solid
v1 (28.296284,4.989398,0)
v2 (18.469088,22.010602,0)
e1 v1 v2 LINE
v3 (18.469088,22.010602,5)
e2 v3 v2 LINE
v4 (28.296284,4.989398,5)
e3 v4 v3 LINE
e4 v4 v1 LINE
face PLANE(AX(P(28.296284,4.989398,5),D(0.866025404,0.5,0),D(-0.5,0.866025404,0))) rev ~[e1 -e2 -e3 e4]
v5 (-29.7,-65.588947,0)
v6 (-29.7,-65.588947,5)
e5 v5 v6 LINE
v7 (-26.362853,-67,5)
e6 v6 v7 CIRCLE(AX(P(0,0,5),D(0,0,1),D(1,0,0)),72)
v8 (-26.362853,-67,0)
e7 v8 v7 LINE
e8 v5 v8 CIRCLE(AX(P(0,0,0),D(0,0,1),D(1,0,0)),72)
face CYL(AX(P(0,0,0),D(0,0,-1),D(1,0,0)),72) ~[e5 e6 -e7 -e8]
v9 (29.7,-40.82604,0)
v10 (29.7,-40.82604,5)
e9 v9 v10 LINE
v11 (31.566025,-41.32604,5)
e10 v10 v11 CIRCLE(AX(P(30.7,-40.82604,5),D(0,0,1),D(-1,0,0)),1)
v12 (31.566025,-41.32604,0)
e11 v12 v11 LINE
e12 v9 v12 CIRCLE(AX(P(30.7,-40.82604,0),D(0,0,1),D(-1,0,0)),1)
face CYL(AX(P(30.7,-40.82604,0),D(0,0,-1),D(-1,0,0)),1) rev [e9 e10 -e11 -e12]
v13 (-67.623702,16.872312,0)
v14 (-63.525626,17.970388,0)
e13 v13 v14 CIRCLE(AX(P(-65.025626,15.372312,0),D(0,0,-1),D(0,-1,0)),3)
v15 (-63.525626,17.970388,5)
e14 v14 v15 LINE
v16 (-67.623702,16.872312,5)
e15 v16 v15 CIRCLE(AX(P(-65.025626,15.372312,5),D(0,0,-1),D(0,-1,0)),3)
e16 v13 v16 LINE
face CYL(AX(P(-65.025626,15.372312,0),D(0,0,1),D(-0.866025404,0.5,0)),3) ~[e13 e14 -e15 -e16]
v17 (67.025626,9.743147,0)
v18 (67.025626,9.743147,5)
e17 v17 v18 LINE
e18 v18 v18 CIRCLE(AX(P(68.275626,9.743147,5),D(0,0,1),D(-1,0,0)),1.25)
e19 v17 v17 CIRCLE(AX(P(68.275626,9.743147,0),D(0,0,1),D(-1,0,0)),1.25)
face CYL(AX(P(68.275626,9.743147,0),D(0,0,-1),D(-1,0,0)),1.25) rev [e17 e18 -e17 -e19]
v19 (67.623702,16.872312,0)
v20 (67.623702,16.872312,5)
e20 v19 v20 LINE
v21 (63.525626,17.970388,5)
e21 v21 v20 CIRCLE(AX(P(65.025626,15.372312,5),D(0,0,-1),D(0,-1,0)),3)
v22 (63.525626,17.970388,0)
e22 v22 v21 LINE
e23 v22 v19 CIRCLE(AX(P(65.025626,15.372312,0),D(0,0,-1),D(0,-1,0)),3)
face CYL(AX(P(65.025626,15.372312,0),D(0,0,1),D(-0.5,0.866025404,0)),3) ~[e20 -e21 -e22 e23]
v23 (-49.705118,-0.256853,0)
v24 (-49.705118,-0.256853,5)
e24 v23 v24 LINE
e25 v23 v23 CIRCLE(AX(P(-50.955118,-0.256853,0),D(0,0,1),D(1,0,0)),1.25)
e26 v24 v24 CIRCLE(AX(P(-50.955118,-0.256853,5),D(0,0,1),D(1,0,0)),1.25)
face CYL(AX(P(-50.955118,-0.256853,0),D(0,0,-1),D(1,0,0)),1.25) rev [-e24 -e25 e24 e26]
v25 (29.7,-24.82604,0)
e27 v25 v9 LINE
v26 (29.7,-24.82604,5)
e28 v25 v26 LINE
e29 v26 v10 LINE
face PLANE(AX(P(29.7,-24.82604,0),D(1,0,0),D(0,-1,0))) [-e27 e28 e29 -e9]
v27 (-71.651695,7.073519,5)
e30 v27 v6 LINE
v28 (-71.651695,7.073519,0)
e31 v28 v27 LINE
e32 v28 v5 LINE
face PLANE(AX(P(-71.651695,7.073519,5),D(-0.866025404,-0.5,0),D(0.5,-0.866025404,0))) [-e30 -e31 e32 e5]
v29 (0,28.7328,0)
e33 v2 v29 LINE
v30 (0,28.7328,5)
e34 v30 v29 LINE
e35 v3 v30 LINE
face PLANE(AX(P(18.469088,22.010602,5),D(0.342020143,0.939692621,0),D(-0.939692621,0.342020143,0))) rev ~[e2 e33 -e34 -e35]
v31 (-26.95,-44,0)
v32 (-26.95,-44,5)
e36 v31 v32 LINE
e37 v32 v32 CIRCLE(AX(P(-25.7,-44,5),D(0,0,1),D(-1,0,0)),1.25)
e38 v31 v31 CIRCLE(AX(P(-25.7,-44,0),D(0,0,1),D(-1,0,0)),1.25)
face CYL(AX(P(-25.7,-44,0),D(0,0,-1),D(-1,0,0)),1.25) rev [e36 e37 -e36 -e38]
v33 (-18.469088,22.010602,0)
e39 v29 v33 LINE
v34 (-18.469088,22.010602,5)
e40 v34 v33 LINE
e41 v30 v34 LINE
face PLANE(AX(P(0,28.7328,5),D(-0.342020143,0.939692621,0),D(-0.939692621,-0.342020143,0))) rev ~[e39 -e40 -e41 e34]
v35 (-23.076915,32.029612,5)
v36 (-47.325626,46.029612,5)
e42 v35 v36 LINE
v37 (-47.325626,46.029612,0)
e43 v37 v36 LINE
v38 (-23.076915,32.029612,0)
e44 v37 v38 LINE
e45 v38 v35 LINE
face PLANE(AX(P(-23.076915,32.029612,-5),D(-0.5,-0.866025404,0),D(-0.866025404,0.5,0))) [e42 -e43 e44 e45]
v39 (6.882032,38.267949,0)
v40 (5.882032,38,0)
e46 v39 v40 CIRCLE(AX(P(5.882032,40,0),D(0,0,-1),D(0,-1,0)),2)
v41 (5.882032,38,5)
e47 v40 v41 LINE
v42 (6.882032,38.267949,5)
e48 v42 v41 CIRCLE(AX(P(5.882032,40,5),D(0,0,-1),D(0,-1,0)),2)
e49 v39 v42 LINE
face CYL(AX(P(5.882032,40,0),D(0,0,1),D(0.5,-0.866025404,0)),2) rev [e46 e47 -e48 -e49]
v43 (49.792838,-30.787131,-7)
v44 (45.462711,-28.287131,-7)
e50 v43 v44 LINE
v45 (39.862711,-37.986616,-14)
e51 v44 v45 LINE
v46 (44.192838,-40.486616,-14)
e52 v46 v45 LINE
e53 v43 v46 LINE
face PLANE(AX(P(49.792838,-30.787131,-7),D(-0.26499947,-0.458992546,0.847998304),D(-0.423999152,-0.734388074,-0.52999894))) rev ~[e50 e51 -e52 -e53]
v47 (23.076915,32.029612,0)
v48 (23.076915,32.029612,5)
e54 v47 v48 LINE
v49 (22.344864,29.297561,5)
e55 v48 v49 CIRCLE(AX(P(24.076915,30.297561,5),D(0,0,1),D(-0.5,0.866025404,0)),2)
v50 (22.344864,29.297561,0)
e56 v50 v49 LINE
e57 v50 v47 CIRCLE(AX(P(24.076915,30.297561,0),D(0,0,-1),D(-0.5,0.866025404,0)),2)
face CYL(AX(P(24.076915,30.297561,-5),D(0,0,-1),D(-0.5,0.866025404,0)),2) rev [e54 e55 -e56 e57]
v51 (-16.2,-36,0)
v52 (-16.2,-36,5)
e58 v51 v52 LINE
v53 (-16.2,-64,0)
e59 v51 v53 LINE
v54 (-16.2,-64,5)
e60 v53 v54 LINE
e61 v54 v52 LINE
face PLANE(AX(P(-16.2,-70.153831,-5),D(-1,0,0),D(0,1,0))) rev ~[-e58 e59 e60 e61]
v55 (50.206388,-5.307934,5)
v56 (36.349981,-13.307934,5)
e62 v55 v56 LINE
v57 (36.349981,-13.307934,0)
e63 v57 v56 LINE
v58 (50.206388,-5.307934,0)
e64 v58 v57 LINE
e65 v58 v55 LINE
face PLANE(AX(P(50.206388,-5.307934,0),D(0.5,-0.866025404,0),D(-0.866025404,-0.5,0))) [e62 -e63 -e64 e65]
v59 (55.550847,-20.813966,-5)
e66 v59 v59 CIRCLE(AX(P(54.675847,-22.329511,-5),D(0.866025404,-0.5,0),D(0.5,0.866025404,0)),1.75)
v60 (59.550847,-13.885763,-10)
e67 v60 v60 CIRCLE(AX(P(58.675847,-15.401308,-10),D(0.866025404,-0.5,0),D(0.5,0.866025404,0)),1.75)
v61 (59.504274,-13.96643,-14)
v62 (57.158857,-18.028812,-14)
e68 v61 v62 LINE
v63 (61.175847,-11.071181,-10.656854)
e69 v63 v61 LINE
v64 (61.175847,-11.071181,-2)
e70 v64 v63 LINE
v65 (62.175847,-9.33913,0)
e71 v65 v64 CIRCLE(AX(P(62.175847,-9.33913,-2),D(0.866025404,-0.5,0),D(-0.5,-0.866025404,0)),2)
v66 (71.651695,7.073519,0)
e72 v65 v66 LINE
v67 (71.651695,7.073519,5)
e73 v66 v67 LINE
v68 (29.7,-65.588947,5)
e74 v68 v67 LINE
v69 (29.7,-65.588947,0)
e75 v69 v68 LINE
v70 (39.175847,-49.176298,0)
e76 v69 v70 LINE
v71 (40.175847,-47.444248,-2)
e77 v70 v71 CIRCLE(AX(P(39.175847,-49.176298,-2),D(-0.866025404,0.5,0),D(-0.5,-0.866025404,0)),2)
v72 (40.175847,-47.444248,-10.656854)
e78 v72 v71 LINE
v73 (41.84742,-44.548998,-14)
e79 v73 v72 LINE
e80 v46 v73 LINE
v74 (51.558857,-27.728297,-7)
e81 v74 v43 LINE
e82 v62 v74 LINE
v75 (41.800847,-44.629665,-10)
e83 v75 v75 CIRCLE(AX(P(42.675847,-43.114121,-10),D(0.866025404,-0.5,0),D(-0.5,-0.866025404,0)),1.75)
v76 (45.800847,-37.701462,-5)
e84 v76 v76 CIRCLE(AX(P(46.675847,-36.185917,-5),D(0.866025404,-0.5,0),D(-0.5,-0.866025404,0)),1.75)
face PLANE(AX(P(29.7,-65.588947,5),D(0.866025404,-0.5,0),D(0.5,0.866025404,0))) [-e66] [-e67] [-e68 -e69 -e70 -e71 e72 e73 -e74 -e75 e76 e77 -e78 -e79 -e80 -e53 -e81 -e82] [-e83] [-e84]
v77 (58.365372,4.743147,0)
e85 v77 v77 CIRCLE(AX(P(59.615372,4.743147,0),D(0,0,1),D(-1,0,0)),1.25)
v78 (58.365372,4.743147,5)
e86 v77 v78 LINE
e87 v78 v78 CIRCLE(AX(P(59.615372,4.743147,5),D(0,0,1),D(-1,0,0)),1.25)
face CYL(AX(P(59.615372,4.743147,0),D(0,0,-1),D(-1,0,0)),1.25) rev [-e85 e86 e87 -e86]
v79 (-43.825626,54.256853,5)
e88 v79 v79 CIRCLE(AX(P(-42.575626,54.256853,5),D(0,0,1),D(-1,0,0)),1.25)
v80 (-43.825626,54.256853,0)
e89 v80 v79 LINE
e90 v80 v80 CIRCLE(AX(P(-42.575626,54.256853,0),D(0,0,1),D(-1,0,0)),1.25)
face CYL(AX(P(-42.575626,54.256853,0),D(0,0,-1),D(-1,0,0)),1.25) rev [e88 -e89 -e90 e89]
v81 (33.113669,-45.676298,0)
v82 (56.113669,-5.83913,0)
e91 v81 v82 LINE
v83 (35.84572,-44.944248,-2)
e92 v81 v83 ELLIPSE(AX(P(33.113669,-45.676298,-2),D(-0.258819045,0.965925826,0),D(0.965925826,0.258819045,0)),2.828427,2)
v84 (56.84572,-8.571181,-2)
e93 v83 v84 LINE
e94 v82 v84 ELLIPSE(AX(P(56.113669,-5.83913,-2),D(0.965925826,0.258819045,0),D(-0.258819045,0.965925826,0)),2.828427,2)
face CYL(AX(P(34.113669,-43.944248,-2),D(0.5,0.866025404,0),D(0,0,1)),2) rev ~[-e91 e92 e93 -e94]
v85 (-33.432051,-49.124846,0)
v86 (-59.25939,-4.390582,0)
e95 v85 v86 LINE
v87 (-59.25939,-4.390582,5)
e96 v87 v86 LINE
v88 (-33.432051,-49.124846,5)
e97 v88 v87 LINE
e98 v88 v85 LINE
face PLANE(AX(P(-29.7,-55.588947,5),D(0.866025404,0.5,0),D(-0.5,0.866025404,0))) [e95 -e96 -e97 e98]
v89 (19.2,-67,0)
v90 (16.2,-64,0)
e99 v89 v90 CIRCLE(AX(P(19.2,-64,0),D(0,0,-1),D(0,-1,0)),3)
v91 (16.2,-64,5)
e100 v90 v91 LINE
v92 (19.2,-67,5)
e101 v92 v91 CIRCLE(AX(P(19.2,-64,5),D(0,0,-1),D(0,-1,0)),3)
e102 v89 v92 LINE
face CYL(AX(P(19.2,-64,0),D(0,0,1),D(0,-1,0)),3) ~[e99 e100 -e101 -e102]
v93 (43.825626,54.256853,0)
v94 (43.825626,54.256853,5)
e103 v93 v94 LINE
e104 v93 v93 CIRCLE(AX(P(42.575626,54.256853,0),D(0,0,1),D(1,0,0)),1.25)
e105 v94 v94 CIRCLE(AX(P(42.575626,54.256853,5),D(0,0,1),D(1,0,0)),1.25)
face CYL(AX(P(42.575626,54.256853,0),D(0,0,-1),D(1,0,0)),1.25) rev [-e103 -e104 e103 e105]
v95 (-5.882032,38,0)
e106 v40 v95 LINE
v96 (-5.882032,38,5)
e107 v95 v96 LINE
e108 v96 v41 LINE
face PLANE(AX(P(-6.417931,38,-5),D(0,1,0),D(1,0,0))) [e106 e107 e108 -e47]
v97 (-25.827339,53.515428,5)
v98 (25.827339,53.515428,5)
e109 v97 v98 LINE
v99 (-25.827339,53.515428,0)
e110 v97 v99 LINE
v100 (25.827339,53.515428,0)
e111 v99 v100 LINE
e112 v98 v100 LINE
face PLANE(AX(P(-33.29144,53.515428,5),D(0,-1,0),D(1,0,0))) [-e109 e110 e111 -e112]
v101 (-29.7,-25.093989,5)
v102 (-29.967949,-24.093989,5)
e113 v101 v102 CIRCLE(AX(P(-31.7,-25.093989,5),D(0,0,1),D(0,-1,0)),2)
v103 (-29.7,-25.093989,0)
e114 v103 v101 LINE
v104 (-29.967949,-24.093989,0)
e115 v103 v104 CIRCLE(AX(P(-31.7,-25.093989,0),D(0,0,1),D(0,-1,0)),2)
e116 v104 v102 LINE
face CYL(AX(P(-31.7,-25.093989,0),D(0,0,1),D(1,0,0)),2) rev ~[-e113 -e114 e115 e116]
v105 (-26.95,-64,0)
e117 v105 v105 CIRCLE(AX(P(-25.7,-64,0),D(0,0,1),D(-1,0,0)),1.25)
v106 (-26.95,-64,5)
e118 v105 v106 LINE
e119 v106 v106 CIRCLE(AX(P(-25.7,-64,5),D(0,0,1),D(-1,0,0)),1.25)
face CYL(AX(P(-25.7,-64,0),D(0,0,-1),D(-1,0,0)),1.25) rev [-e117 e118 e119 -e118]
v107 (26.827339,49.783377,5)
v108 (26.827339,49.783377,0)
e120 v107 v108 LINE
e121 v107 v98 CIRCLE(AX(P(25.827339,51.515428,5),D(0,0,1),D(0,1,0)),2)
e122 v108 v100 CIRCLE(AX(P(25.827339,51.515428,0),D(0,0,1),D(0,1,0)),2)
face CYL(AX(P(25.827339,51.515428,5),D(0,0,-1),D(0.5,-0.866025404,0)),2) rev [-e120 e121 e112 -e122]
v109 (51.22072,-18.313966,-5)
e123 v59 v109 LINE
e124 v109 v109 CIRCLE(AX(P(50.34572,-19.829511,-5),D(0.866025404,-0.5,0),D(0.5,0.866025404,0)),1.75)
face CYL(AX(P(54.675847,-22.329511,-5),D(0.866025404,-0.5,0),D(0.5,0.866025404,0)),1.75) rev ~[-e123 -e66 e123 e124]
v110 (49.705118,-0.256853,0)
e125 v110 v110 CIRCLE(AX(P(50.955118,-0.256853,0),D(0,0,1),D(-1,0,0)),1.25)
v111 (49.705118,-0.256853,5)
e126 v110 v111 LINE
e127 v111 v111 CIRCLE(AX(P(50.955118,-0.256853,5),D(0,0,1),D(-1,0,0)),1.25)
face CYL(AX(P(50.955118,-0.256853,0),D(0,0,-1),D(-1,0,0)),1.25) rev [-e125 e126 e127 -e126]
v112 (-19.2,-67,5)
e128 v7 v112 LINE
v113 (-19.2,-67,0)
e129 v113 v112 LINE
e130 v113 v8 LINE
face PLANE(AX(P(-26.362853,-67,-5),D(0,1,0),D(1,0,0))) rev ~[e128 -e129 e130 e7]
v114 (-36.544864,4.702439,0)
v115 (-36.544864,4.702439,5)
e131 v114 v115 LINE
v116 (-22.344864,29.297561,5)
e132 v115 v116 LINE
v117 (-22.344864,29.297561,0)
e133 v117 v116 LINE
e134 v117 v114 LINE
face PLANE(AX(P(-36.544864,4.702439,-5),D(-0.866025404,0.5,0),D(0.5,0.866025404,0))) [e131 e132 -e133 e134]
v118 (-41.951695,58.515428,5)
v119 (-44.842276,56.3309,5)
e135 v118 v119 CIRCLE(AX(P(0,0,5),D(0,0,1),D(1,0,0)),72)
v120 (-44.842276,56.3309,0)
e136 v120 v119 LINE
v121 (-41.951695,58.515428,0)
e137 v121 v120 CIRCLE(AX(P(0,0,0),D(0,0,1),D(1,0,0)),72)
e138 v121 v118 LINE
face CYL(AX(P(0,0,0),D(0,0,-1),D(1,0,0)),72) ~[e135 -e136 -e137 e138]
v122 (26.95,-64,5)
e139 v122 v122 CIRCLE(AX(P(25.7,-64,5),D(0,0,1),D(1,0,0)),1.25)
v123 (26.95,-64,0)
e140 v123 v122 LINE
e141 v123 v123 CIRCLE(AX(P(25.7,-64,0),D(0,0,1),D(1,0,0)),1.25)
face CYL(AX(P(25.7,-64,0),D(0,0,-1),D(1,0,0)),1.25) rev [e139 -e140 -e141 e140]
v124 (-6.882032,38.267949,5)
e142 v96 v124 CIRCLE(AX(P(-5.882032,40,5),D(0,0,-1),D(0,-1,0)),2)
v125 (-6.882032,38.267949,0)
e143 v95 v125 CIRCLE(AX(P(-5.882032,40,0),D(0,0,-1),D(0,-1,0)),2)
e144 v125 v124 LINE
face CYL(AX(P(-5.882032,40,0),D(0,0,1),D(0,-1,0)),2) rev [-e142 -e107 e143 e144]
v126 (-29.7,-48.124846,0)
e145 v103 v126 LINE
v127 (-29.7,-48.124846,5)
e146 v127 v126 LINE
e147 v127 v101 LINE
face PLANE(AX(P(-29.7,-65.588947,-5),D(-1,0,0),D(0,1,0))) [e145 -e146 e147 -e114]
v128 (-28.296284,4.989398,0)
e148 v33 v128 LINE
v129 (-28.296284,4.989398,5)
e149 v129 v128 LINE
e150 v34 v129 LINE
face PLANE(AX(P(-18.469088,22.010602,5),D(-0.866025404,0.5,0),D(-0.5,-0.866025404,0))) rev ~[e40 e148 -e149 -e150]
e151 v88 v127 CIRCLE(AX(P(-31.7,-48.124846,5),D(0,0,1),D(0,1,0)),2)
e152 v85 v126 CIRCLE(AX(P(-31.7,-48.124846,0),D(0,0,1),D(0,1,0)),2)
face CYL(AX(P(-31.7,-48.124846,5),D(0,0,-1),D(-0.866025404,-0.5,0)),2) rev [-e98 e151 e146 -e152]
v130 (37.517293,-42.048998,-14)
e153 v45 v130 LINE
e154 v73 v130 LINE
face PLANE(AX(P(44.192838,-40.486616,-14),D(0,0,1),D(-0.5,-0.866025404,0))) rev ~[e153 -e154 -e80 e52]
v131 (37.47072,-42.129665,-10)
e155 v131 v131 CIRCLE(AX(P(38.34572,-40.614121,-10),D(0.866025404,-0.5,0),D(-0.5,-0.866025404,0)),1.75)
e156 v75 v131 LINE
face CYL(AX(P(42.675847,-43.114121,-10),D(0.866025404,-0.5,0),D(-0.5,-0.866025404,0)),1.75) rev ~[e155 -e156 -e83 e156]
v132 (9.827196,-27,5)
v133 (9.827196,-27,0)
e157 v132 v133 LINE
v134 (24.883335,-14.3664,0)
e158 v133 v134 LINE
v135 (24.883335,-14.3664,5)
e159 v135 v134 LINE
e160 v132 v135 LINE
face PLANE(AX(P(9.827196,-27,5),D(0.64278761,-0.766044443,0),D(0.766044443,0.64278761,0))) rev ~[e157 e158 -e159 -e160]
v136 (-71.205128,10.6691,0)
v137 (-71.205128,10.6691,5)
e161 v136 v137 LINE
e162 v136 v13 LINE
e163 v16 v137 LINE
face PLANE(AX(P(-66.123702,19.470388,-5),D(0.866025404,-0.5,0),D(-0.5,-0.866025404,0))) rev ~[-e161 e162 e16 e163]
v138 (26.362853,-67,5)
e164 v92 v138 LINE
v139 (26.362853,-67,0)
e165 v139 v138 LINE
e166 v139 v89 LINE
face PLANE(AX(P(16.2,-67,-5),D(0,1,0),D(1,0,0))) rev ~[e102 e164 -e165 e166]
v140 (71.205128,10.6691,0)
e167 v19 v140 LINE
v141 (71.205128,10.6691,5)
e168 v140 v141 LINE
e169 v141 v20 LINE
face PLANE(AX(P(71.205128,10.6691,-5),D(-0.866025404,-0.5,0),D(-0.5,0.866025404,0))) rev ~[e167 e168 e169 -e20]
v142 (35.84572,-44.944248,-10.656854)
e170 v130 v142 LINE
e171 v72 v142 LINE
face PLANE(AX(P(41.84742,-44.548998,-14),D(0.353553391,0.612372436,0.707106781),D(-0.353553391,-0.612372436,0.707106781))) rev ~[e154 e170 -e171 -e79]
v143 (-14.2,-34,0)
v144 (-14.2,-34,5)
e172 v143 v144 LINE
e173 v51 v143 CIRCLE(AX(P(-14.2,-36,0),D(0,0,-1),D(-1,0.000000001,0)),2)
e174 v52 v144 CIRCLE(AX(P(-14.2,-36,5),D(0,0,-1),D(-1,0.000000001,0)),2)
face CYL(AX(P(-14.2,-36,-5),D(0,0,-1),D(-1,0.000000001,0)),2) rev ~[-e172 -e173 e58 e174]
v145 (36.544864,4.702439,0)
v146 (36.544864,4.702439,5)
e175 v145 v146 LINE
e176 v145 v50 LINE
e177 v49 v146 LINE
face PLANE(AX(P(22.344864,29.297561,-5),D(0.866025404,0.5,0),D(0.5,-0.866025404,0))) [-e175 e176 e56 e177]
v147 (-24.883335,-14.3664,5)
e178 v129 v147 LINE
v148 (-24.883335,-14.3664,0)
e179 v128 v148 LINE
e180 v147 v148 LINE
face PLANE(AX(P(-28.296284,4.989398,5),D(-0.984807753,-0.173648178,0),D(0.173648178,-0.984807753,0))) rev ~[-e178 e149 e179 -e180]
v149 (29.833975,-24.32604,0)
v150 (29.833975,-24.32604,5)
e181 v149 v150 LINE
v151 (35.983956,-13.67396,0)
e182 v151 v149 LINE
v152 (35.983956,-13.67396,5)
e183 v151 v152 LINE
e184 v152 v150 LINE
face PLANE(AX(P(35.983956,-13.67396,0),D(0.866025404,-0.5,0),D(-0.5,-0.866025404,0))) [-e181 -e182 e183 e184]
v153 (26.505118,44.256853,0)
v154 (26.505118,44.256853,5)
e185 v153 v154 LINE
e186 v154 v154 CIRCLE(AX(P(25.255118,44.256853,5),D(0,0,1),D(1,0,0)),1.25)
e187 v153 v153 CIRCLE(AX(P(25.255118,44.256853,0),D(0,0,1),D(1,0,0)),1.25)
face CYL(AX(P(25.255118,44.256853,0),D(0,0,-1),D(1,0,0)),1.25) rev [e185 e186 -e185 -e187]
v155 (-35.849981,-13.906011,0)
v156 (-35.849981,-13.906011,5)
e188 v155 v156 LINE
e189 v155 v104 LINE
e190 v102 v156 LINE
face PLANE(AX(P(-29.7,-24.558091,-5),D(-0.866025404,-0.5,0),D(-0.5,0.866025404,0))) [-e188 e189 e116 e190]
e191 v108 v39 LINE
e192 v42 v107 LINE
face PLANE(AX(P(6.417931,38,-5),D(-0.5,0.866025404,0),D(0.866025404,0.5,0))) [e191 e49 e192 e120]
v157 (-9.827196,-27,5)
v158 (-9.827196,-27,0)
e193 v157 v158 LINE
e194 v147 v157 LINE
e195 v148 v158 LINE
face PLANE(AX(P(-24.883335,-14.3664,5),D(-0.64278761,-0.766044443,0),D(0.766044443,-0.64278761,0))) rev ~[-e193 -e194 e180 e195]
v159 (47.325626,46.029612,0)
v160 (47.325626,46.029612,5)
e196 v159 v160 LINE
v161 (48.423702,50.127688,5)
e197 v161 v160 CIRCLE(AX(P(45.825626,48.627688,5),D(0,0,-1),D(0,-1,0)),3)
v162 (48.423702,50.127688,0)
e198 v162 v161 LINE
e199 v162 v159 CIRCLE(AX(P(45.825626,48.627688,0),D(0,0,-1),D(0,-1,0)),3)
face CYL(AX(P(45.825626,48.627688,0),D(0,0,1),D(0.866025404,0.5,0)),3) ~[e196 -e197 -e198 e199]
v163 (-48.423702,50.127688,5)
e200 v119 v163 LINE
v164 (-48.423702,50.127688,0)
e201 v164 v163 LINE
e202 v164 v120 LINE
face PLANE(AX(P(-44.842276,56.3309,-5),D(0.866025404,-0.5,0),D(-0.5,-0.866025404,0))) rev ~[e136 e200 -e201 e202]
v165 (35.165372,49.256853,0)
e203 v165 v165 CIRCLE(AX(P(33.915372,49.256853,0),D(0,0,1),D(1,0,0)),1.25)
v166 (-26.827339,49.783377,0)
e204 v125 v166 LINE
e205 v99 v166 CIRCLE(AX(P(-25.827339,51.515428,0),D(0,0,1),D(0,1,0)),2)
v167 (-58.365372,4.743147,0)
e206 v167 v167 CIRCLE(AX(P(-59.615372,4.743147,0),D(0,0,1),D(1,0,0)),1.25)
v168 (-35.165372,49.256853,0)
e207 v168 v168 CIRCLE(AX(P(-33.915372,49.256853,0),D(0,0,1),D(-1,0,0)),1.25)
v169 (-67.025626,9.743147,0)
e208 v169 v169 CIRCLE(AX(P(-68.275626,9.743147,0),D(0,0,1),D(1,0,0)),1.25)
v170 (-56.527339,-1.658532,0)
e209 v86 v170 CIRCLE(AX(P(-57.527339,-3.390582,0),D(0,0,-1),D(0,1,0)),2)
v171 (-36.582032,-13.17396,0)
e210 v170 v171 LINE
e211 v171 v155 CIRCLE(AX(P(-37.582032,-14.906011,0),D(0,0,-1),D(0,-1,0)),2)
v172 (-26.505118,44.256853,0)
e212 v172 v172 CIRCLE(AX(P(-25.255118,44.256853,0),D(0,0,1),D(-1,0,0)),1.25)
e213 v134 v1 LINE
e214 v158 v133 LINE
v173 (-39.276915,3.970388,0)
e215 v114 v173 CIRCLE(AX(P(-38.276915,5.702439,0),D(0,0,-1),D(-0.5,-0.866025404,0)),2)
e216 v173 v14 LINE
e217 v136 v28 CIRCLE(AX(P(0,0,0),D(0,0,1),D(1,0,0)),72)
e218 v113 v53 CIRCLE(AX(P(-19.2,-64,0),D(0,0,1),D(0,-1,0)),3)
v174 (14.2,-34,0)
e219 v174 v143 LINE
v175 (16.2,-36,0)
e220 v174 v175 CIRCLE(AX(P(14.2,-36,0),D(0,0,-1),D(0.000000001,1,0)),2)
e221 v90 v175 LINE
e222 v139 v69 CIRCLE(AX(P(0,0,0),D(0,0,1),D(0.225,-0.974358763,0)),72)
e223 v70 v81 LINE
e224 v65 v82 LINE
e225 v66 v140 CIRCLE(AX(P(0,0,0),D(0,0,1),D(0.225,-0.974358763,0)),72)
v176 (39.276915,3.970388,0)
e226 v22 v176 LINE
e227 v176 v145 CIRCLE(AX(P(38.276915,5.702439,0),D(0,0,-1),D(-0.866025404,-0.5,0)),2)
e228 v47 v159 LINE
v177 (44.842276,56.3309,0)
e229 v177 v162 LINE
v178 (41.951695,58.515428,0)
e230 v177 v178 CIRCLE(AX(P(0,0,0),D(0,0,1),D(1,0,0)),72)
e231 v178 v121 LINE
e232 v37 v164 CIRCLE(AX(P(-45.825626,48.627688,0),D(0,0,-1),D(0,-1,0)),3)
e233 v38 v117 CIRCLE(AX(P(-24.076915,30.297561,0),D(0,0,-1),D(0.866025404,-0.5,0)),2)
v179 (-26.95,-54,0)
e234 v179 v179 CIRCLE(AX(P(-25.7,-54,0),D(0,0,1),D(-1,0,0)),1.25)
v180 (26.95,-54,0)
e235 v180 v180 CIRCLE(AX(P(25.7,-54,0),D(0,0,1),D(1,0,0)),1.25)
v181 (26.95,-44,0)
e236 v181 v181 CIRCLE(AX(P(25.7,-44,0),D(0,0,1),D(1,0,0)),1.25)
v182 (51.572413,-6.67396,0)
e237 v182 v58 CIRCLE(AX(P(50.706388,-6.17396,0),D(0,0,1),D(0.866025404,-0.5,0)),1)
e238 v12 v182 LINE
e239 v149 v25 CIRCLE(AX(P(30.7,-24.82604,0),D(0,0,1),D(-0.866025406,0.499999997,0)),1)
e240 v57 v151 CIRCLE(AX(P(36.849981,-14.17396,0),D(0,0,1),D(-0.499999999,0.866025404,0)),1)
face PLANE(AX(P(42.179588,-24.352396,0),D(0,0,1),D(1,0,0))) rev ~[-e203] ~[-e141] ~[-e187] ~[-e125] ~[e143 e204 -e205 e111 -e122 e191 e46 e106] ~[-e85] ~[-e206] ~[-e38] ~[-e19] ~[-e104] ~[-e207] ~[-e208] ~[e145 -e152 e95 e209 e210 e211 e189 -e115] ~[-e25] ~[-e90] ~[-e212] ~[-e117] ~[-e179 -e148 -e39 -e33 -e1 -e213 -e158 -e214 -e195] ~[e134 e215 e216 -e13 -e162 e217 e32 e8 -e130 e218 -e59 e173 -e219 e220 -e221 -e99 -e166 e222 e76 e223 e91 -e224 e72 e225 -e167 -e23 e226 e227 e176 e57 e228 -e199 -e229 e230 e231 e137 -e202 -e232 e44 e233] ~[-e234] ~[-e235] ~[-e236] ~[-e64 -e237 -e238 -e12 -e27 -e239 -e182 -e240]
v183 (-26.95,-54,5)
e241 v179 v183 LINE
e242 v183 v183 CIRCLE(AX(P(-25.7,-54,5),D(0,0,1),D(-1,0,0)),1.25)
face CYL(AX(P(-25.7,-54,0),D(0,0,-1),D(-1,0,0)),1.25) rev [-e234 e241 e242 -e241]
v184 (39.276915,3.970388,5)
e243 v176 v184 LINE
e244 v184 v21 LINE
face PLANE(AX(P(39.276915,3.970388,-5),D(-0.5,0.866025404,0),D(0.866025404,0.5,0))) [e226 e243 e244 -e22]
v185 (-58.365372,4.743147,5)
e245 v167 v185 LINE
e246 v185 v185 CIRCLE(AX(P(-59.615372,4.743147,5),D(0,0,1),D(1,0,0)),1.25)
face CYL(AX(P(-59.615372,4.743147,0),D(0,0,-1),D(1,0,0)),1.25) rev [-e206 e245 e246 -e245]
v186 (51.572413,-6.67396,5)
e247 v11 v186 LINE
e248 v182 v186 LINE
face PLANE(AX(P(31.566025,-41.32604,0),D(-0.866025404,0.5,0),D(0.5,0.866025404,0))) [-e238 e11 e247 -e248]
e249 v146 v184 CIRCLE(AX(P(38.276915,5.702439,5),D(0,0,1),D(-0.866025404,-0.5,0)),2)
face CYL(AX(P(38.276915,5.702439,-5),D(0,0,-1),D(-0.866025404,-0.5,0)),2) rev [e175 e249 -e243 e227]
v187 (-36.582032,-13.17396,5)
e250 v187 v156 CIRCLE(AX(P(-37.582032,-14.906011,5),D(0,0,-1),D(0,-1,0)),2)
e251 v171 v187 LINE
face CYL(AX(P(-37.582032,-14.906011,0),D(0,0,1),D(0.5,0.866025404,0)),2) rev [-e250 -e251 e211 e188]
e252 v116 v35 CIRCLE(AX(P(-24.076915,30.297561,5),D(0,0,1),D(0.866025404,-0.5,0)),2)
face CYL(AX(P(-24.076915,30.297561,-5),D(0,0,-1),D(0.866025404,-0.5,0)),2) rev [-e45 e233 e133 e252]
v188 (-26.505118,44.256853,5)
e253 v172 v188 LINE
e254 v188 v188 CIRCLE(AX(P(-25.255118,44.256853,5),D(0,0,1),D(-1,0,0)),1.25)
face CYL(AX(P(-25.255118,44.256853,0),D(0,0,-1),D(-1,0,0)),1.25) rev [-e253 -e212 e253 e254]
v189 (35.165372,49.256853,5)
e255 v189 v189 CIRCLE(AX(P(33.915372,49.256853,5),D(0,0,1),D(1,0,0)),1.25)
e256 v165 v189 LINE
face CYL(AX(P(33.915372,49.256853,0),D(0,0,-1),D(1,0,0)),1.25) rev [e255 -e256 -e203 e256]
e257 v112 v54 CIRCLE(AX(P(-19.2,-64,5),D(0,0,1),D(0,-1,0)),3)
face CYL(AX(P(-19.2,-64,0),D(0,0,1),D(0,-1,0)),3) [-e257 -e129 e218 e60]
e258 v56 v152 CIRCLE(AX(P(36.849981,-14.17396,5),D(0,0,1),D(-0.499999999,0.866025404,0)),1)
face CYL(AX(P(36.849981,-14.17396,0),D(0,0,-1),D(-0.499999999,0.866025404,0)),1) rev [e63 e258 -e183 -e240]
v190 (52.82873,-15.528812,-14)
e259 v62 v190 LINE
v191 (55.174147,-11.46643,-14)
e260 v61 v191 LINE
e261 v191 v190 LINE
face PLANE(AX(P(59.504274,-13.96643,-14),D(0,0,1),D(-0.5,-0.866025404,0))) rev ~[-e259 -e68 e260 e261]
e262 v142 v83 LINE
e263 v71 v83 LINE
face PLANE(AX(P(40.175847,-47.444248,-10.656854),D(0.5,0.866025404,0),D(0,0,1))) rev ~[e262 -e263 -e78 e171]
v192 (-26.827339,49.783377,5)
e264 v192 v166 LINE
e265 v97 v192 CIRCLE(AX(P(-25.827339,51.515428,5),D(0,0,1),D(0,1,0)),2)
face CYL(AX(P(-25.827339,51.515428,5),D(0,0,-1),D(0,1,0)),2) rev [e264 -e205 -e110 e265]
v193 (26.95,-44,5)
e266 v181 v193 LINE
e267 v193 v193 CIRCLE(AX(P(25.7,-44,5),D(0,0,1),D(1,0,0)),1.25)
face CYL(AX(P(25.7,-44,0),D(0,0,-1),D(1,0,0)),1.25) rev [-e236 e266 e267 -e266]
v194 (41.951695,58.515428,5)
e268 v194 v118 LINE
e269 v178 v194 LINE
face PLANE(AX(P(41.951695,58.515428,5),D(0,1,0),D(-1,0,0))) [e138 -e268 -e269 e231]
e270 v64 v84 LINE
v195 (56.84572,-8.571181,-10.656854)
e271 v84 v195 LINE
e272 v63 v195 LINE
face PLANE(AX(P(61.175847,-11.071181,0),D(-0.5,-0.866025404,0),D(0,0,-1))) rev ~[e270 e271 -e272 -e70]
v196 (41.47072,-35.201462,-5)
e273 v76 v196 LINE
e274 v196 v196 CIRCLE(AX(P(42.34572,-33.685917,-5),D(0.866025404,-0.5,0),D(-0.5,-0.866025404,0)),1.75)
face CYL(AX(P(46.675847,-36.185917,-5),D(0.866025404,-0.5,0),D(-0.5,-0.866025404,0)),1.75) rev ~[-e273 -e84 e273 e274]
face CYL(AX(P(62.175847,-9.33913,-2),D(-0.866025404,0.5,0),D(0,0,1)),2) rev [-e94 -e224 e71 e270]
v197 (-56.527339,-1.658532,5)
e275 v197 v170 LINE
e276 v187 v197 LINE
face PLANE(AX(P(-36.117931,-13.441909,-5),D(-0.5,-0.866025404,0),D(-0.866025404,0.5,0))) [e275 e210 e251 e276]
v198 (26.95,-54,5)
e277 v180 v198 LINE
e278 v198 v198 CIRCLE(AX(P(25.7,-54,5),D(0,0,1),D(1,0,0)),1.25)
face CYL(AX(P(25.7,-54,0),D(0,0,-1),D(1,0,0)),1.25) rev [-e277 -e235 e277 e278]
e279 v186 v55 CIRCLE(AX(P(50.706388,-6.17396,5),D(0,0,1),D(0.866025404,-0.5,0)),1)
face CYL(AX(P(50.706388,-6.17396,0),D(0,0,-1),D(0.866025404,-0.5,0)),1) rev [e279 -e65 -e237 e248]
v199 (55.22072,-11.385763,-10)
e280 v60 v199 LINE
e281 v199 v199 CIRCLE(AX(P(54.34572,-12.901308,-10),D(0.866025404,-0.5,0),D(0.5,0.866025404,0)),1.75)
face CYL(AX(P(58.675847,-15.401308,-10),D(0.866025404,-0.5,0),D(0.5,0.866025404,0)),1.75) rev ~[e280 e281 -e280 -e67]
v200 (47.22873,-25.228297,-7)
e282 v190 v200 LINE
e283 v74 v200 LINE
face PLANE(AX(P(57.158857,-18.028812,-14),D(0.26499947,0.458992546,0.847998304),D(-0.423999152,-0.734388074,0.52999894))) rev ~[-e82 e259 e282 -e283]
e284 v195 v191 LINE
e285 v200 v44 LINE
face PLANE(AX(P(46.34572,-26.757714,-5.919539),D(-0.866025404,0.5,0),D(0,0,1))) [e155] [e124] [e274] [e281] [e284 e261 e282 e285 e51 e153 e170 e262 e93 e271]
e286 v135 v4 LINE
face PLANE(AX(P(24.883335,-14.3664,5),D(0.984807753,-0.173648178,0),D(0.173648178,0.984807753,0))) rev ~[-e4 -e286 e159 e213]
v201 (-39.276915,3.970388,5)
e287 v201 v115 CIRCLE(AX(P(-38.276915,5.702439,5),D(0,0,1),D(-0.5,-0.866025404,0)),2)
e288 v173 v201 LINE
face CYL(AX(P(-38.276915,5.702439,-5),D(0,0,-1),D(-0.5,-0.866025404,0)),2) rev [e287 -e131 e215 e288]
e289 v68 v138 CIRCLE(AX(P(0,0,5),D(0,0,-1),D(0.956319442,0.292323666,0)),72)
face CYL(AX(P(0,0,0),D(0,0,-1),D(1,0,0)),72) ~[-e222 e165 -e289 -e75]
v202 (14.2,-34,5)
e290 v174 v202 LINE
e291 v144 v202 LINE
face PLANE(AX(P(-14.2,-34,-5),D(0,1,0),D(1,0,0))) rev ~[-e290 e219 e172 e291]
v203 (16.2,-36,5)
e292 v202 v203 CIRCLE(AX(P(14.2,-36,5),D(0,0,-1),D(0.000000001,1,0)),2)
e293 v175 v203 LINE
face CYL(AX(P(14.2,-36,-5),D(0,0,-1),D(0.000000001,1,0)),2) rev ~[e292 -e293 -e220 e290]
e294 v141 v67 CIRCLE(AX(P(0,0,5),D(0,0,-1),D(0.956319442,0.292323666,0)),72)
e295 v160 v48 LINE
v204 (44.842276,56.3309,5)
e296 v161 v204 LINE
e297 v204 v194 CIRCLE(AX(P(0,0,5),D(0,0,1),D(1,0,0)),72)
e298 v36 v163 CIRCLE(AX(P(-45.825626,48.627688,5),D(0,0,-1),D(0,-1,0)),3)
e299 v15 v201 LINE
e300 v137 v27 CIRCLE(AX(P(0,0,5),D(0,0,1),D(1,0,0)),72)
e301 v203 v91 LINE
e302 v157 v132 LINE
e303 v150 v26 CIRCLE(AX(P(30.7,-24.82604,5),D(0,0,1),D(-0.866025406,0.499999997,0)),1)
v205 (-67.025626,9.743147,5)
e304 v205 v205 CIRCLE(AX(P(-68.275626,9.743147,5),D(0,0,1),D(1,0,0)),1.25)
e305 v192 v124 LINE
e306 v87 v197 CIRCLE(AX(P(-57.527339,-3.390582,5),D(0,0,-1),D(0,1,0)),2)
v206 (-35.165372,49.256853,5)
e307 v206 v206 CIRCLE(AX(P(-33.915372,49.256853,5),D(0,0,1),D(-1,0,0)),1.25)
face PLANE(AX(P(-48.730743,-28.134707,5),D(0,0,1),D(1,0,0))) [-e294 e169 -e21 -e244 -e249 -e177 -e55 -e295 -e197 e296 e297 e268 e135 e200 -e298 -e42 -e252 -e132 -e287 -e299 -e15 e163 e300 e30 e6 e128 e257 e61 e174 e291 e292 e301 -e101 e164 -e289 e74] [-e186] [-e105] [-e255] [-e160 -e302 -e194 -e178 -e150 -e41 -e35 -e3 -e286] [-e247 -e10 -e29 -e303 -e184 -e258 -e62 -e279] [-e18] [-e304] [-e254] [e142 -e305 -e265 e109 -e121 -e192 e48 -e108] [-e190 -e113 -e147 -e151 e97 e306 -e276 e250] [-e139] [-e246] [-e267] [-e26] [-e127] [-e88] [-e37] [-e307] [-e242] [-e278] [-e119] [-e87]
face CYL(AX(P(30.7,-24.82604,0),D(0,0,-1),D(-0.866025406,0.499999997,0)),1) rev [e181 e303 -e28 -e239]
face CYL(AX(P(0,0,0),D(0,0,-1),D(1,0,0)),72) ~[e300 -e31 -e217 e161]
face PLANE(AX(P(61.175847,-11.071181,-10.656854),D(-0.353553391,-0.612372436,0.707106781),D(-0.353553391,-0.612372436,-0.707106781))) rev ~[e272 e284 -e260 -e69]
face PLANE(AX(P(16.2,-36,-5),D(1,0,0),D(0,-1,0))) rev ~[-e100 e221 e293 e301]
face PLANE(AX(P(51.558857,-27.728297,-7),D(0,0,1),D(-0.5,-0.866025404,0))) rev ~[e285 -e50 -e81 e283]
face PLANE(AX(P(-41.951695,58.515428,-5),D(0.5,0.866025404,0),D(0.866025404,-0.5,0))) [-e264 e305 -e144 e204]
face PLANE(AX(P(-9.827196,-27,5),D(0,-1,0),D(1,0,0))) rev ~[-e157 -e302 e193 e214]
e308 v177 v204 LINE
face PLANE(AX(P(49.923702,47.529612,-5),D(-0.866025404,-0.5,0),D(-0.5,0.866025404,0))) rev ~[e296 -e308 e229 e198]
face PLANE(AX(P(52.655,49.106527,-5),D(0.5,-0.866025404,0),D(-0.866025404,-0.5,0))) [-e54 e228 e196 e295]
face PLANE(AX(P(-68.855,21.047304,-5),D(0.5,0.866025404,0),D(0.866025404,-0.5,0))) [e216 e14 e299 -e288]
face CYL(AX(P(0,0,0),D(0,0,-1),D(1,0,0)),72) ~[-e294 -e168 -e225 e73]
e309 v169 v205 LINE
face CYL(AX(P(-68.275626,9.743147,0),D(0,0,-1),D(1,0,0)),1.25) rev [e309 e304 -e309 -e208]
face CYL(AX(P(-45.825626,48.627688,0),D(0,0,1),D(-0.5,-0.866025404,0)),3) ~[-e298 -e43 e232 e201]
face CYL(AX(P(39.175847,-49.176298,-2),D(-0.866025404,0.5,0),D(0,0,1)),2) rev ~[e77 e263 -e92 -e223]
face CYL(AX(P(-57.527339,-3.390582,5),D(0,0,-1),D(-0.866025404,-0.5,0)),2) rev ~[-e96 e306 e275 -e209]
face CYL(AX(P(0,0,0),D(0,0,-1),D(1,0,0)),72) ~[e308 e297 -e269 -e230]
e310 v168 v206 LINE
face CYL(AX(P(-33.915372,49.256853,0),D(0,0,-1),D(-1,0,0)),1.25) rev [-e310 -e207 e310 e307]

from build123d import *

# Parameters (mm, degrees)
SKETCH_1_R          = 72
SKETCH_1_R_2        = 1.25
EXTRUDE_1_DEPTH     = 5
CUT_EXTRUDE_START   = -10
CUT_EXTRUDE_2_DEPTH = 10
CUT_EXTRUDE_3_DEPTH = 10
EXTRUDE_2_DEPTH     = 5
CUT_EXTRUDE_4_DEPTH = 6
CUT_EXTRUDE_5_DEPTH = 10
FILLET_1_R          = 3
EXTRUDE_3_DEPTH     = 5
SKETCH_13_R         = 1.75
EXTRUDE_4_DEPTH     = 5
FILLET_2_R          = 2
CUT_EXTRUDE_6_DEPTH = 5
FILLET_3_R          = 2


with BuildPart() as part:
    # 草图1 → 凸台-拉伸1 (new body)
    with BuildSketch(Plane.XY):
        Circle(SKETCH_1_R)
        with Locations((25.7, -64)):
            Circle(SKETCH_1_R_2, mode=Mode.SUBTRACT)
        with Locations((25.7, -54)):
            Circle(SKETCH_1_R_2, mode=Mode.SUBTRACT)
        with Locations((25.7, -44)):
            Circle(SKETCH_1_R_2, mode=Mode.SUBTRACT)
        with Locations(Location((-25.7, -44, 0), (0, 0, 180))):
            Circle(SKETCH_1_R_2, mode=Mode.SUBTRACT)
        with Locations(Location((-25.7, -54, 0), (0, 0, 180))):
            Circle(SKETCH_1_R_2, mode=Mode.SUBTRACT)
        with Locations(Location((-25.7, -64, 0), (0, 0, 180))):
            Circle(SKETCH_1_R_2, mode=Mode.SUBTRACT)
        with Locations(Location((-25.255117767, 44.256852877, 0), (0, 0, 180))):
            Circle(SKETCH_1_R_2, mode=Mode.SUBTRACT)
        with Locations(Location((-33.915371804, 49.256852877, 0), (0, 0, 180))):
            Circle(SKETCH_1_R_2, mode=Mode.SUBTRACT)
        with Locations(Location((-42.575625842, 54.256852877, 0), (0, 0, 180))):
            Circle(SKETCH_1_R_2, mode=Mode.SUBTRACT)
        with Locations((-50.955117767, -0.256852877)):
            Circle(SKETCH_1_R_2, mode=Mode.SUBTRACT)
        with Locations((-59.615371804, 4.743147123)):
            Circle(SKETCH_1_R_2, mode=Mode.SUBTRACT)
        with Locations((-68.275625842, 9.743147123)):
            Circle(SKETCH_1_R_2, mode=Mode.SUBTRACT)
        with Locations(Location((50.955117767, -0.256852877, 0), (0, 0, 180))):
            Circle(SKETCH_1_R_2, mode=Mode.SUBTRACT)
        with Locations(Location((59.615371804, 4.743147123, 0), (0, 0, 180))):
            Circle(SKETCH_1_R_2, mode=Mode.SUBTRACT)
        with Locations(Location((68.275625842, 9.743147123, 0), (0, 0, 180))):
            Circle(SKETCH_1_R_2, mode=Mode.SUBTRACT)
        with Locations((25.255117767, 44.256852877)):
            Circle(SKETCH_1_R_2, mode=Mode.SUBTRACT)
        with Locations((33.915371804, 49.256852877)):
            Circle(SKETCH_1_R_2, mode=Mode.SUBTRACT)
        with Locations((42.575625842, 54.256852877)):
            Circle(SKETCH_1_R_2, mode=Mode.SUBTRACT)
    extrude(amount=EXTRUDE_1_DEPTH)

    # 草图3 → 切除-拉伸2 (cut)
    with BuildSketch(Plane.XY.offset(5).offset(CUT_EXTRUDE_START)):
        with BuildLine():
            Line((16.2, -36), (16.2, -70.153830972))
            ThreePointArc((16.2, -70.153830972), (0, -72), (-16.2, -70.153830972))
            Line((-16.2, -70.153830972), (-16.2, -36))
            ThreePointArc((-16.2, -36), (-15.614213562, -34.585786438), (-14.2, -34))
            Line((-14.2, -34), (14.2, -34))
            ThreePointArc((14.2, -34), (15.614213562, -34.585786438), (16.2, -36))
        make_face()
        with BuildLine():
            Line((-23.076914536, 32.029611541), (-52.654999794, 49.106527027))
            ThreePointArc((-52.654999794, 49.106527027), (-62.353829072, 36), (-68.854999794, 21.047303945))
            Line((-68.854999794, 21.047303945), (-39.276914536, 3.970388459))
            ThreePointArc((-39.276914536, 3.970388459), (-37.759276446, 3.770587614), (-36.544863729, 4.702439266))
            Line((-36.544863729, 4.702439266), (-22.344863729, 29.297560734))
            ThreePointArc((-22.344863729, 29.297560734), (-22.145062884, 30.815198824), (-23.076914536, 32.029611541))
        make_face()
        with BuildLine():
            Line((39.276914536, 3.970388459), (68.854999794, 21.047303945))
            ThreePointArc((68.854999794, 21.047303945), (62.353829072, 36), (52.654999794, 49.106527027))
            Line((52.654999794, 49.106527027), (23.076914536, 32.029611541))
            ThreePointArc((23.076914536, 32.029611541), (22.145062884, 30.815198824), (22.344863729, 29.297560734))
            Line((22.344863729, 29.297560734), (36.544863729, 4.702439266))
            ThreePointArc((36.544863729, 4.702439266), (37.759276446, 3.770587614), (39.276914536, 3.970388459))
        make_face()
    extrude(amount=CUT_EXTRUDE_2_DEPTH, mode=Mode.SUBTRACT)

    # 草图5 → 切除-拉伸3 (cut)
    with BuildSketch(Plane.XY.offset(5).offset(CUT_EXTRUDE_START)):
        with BuildLine():
            Line((-41.951694517, 58.515428112), (-6.417930688, 38))
            Line((-6.417930688, 38), (6.417930688, 38))
            Line((6.417930688, 38), (41.951694517, 58.515428112))
            ThreePointArc((41.951694517, 58.515428112), (0, 72), (-41.951694517, 58.515428112))
        make_face()
        with BuildLine():
            Line((71.651694517, 7.073519127), (36.117930688, -13.441908985))
            Line((36.117930688, -13.441908985), (29.7, -24.558091015))
            Line((29.7, -24.558091015), (29.7, -65.58894724))
            ThreePointArc((29.7, -65.58894724), (62.353829072, -36), (71.651694517, 7.073519127))
        make_face()
        with BuildLine():
            Line((-29.7, -65.58894724), (-29.7, -24.558091015))
            Line((-29.7, -24.558091015), (-36.117930688, -13.441908985))
            Line((-36.117930688, -13.441908985), (-71.651694517, 7.073519127))
            ThreePointArc((-71.651694517, 7.073519127), (-62.353829072, -36), (-29.7, -65.58894724))
        make_face()
    extrude(amount=CUT_EXTRUDE_3_DEPTH, mode=Mode.SUBTRACT)

    # 草图6 → 凸台-拉伸2 (add)
    with BuildSketch(Plane.XY.offset(5)):
        Polygon((-71.651694517, 7.073519127), (-29.7, -65.58894724), (-29.7, -55.58894724), (-62.991440479, 2.073519127), align=None)
        Polygon((33.291440479, 53.515428112), (41.951694517, 58.515428112), (-41.951694517, 58.515428112), (-33.291440479, 53.515428112), align=None)
        Polygon((29.7, -55.58894724), (29.7, -65.58894724), (71.651694517, 7.073519127), (62.991440479, 2.073519127), align=None)
    extrude(amount=-EXTRUDE_2_DEPTH)

    # 草图7 → 切除-拉伸4 (cut)
    with BuildSketch(Plane.XY.offset(5)):
        Polygon((-24.883334598, -14.366399928), (-9.827196325, -27), (9.827196325, -27), (24.883334598, -14.366399928), (28.296284065, 4.989398334), (18.46908774, 22.010601666), (0, 28.732799857), (-18.46908774, 22.010601666), (-28.296284065, 4.989398334), align=None)
    extrude(amount=-CUT_EXTRUDE_4_DEPTH, mode=Mode.SUBTRACT)

    # 草图10 → 切除-拉伸5 (cut)
    with BuildSketch(Plane.XY.offset(5).offset(CUT_EXTRUDE_START)):
        with BuildLine():
            Line((-44.842275727, 56.330900114), (-49.923702054, 47.529611541))
            Line((-49.923702054, 47.529611541), (-52.654999794, 49.106527027))
            ThreePointArc((-52.654999794, 49.106527027), (-48.882282835, 52.863242663), (-44.842275727, 56.330900114))
        make_face()
        with BuildLine():
            Line((-68.854999794, 21.047303945), (-66.123702054, 19.470388459))
            Line((-66.123702054, 19.470388459), (-71.20512838, 10.669099886))
            ThreePointArc((-71.20512838, 10.669099886), (-70.22205249, 15.901677398), (-68.854999794, 21.047303945))
        make_face()
        with BuildLine():
            Line((52.654999794, 49.106527027), (49.923702054, 47.529611541))
            Line((49.923702054, 47.529611541), (44.842275727, 56.330900114))
            ThreePointArc((44.842275727, 56.330900114), (48.882282835, 52.863242663), (52.654999794, 49.106527027))
        make_face()
        with BuildLine():
            Line((66.123702054, 19.470388459), (68.854999794, 21.047303945))
            ThreePointArc((68.854999794, 21.047303945), (70.22205249, 15.901677398), (71.20512838, 10.669099886))
            Line((71.20512838, 10.669099886), (66.123702054, 19.470388459))
        make_face()
        with BuildLine():
            Line((16.2, -70.153830972), (16.2, -67))
            Line((16.2, -67), (26.362852653, -67))
            ThreePointArc((26.362852653, -67), (21.339769655, -68.764920061), (16.2, -70.153830972))
        make_face()
        with BuildLine():
            Line((-16.2, -67), (-16.2, -70.153830972))
            ThreePointArc((-16.2, -70.153830972), (-21.339769655, -68.764920061), (-26.362852653, -67))
            Line((-26.362852653, -67), (-16.2, -67))
        make_face()
    extrude(amount=CUT_EXTRUDE_5_DEPTH, mode=Mode.SUBTRACT)

    # 圆角1
    fillet_1_edges = [part.edges().sort_by_distance(p)[0] for p in [
        (16.2, -67, 2.5),
        (-16.2, -67, 2.5),
        (-66.123702054, 19.470388459, 2.5),
        (-49.923702054, 47.529611541, 2.5),
        (49.923702054, 47.529611541, 2.5),
        (66.123702054, 19.470388459, 2.5),
    ]]
    fillet(fillet_1_edges, radius=FILLET_1_R)

    # 草图12 → 凸台-拉伸3 (add)
    with BuildSketch(Plane(origin=(0, 0, 0), x_dir=(-1, 0, 0), z_dir=(0, 0, -1))):
        Polygon((-29.7, -24.558091015), (-29.7, -55.58894724), (-62.991440479, 2.073519127), (-36.117930688, -13.441908985), align=None)
    extrude(amount=-EXTRUDE_3_DEPTH)

    # 草图13 → 凸台-拉伸4 (add)
    with BuildSketch(Plane(origin=(50.675847258, -29.257714056, 0), x_dir=(0, 0, -1), z_dir=(0.8660254037844392, -0.49999999999999906, 0))):
        Polygon((0, 21), (10.656854249, 21), (14, 17.656854249), (14, 12.966018868), (7, 1.766018868), (7, -1.766018868), (14, -12.966018868), (14, -17.656854249), (10.656854249, -21), (0, -21), align=None)
        with Locations(Location((5, 8, 0), (0, 0, 90))):
            Circle(SKETCH_13_R, mode=Mode.SUBTRACT)
        with Locations(Location((10, 16, 0), (0, 0, 90))):
            Circle(SKETCH_13_R, mode=Mode.SUBTRACT)
        with Locations(Location((5, -8, 0), (0, 0, 270))):
            Circle(SKETCH_13_R, mode=Mode.SUBTRACT)
        with Locations(Location((10, -16, 0), (0, 0, 270))):
            Circle(SKETCH_13_R, mode=Mode.SUBTRACT)
    extrude(amount=-EXTRUDE_4_DEPTH)

    # 圆角2
    fillet_2_edges = [part.edges().sort_by_distance(p)[0] for p in [
        (46.34572024, -26.757714056, 0),
        (38.010783749, -46.194247536, 0),
        (59.010783749, -9.821180577, 0),
    ]]
    fillet(fillet_2_edges, radius=FILLET_2_R)

    # 草图14 → 切除-拉伸6 (cut)
    with BuildSketch(Plane(origin=(0, 0, 0), x_dir=(-1, 0, 0), z_dir=(0, 0, -1))):
        with BuildLine():
            Line((-29.7, -24.826040208), (-29.7, -40.826040208))
            ThreePointArc((-29.7, -40.826040208), (-30.441180955, -41.791966034), (-31.566025404, -41.326040208))
            Line((-31.566025404, -41.326040208), (-51.57241336, -6.673959792))
            ThreePointArc((-51.57241336, -6.673959792), (-51.413494737, -5.466853011), (-50.206387956, -5.307934389))
            Line((-50.206387956, -5.307934389), (-36.349981495, -13.307934389))
            ThreePointArc((-36.349981495, -13.307934389), (-36.142874714, -13.466853011), (-35.983956091, -13.673959792))
            Line((-35.983956091, -13.673959792), (-29.833974596, -24.326040208))
            ThreePointArc((-29.833974596, -24.326040208), (-29.734074174, -24.567221163), (-29.7, -24.826040208))
        make_face()
    extrude(amount=-CUT_EXTRUDE_6_DEPTH, mode=Mode.SUBTRACT)

    # 圆角3
    fillet_3_edges = [part.edges().sort_by_distance(p)[0] for p in [
        (6.417930688, 38, 2.5),
        (-6.417930688, 38, 2.5),
        (-36.117930688, -13.441908985, 2.5),
        (-29.7, -24.558091015, 2.5),
        (-62.991440479, 2.073519127, 2.5),
        (-29.7, -55.58894724, 2.5),
        (33.291440479, 53.515428112, 2.5),
        (-33.291440479, 53.515428112, 2.5),
    ]]
    fillet(fillet_3_edges, radius=FILLET_3_R)


solid = part.part
